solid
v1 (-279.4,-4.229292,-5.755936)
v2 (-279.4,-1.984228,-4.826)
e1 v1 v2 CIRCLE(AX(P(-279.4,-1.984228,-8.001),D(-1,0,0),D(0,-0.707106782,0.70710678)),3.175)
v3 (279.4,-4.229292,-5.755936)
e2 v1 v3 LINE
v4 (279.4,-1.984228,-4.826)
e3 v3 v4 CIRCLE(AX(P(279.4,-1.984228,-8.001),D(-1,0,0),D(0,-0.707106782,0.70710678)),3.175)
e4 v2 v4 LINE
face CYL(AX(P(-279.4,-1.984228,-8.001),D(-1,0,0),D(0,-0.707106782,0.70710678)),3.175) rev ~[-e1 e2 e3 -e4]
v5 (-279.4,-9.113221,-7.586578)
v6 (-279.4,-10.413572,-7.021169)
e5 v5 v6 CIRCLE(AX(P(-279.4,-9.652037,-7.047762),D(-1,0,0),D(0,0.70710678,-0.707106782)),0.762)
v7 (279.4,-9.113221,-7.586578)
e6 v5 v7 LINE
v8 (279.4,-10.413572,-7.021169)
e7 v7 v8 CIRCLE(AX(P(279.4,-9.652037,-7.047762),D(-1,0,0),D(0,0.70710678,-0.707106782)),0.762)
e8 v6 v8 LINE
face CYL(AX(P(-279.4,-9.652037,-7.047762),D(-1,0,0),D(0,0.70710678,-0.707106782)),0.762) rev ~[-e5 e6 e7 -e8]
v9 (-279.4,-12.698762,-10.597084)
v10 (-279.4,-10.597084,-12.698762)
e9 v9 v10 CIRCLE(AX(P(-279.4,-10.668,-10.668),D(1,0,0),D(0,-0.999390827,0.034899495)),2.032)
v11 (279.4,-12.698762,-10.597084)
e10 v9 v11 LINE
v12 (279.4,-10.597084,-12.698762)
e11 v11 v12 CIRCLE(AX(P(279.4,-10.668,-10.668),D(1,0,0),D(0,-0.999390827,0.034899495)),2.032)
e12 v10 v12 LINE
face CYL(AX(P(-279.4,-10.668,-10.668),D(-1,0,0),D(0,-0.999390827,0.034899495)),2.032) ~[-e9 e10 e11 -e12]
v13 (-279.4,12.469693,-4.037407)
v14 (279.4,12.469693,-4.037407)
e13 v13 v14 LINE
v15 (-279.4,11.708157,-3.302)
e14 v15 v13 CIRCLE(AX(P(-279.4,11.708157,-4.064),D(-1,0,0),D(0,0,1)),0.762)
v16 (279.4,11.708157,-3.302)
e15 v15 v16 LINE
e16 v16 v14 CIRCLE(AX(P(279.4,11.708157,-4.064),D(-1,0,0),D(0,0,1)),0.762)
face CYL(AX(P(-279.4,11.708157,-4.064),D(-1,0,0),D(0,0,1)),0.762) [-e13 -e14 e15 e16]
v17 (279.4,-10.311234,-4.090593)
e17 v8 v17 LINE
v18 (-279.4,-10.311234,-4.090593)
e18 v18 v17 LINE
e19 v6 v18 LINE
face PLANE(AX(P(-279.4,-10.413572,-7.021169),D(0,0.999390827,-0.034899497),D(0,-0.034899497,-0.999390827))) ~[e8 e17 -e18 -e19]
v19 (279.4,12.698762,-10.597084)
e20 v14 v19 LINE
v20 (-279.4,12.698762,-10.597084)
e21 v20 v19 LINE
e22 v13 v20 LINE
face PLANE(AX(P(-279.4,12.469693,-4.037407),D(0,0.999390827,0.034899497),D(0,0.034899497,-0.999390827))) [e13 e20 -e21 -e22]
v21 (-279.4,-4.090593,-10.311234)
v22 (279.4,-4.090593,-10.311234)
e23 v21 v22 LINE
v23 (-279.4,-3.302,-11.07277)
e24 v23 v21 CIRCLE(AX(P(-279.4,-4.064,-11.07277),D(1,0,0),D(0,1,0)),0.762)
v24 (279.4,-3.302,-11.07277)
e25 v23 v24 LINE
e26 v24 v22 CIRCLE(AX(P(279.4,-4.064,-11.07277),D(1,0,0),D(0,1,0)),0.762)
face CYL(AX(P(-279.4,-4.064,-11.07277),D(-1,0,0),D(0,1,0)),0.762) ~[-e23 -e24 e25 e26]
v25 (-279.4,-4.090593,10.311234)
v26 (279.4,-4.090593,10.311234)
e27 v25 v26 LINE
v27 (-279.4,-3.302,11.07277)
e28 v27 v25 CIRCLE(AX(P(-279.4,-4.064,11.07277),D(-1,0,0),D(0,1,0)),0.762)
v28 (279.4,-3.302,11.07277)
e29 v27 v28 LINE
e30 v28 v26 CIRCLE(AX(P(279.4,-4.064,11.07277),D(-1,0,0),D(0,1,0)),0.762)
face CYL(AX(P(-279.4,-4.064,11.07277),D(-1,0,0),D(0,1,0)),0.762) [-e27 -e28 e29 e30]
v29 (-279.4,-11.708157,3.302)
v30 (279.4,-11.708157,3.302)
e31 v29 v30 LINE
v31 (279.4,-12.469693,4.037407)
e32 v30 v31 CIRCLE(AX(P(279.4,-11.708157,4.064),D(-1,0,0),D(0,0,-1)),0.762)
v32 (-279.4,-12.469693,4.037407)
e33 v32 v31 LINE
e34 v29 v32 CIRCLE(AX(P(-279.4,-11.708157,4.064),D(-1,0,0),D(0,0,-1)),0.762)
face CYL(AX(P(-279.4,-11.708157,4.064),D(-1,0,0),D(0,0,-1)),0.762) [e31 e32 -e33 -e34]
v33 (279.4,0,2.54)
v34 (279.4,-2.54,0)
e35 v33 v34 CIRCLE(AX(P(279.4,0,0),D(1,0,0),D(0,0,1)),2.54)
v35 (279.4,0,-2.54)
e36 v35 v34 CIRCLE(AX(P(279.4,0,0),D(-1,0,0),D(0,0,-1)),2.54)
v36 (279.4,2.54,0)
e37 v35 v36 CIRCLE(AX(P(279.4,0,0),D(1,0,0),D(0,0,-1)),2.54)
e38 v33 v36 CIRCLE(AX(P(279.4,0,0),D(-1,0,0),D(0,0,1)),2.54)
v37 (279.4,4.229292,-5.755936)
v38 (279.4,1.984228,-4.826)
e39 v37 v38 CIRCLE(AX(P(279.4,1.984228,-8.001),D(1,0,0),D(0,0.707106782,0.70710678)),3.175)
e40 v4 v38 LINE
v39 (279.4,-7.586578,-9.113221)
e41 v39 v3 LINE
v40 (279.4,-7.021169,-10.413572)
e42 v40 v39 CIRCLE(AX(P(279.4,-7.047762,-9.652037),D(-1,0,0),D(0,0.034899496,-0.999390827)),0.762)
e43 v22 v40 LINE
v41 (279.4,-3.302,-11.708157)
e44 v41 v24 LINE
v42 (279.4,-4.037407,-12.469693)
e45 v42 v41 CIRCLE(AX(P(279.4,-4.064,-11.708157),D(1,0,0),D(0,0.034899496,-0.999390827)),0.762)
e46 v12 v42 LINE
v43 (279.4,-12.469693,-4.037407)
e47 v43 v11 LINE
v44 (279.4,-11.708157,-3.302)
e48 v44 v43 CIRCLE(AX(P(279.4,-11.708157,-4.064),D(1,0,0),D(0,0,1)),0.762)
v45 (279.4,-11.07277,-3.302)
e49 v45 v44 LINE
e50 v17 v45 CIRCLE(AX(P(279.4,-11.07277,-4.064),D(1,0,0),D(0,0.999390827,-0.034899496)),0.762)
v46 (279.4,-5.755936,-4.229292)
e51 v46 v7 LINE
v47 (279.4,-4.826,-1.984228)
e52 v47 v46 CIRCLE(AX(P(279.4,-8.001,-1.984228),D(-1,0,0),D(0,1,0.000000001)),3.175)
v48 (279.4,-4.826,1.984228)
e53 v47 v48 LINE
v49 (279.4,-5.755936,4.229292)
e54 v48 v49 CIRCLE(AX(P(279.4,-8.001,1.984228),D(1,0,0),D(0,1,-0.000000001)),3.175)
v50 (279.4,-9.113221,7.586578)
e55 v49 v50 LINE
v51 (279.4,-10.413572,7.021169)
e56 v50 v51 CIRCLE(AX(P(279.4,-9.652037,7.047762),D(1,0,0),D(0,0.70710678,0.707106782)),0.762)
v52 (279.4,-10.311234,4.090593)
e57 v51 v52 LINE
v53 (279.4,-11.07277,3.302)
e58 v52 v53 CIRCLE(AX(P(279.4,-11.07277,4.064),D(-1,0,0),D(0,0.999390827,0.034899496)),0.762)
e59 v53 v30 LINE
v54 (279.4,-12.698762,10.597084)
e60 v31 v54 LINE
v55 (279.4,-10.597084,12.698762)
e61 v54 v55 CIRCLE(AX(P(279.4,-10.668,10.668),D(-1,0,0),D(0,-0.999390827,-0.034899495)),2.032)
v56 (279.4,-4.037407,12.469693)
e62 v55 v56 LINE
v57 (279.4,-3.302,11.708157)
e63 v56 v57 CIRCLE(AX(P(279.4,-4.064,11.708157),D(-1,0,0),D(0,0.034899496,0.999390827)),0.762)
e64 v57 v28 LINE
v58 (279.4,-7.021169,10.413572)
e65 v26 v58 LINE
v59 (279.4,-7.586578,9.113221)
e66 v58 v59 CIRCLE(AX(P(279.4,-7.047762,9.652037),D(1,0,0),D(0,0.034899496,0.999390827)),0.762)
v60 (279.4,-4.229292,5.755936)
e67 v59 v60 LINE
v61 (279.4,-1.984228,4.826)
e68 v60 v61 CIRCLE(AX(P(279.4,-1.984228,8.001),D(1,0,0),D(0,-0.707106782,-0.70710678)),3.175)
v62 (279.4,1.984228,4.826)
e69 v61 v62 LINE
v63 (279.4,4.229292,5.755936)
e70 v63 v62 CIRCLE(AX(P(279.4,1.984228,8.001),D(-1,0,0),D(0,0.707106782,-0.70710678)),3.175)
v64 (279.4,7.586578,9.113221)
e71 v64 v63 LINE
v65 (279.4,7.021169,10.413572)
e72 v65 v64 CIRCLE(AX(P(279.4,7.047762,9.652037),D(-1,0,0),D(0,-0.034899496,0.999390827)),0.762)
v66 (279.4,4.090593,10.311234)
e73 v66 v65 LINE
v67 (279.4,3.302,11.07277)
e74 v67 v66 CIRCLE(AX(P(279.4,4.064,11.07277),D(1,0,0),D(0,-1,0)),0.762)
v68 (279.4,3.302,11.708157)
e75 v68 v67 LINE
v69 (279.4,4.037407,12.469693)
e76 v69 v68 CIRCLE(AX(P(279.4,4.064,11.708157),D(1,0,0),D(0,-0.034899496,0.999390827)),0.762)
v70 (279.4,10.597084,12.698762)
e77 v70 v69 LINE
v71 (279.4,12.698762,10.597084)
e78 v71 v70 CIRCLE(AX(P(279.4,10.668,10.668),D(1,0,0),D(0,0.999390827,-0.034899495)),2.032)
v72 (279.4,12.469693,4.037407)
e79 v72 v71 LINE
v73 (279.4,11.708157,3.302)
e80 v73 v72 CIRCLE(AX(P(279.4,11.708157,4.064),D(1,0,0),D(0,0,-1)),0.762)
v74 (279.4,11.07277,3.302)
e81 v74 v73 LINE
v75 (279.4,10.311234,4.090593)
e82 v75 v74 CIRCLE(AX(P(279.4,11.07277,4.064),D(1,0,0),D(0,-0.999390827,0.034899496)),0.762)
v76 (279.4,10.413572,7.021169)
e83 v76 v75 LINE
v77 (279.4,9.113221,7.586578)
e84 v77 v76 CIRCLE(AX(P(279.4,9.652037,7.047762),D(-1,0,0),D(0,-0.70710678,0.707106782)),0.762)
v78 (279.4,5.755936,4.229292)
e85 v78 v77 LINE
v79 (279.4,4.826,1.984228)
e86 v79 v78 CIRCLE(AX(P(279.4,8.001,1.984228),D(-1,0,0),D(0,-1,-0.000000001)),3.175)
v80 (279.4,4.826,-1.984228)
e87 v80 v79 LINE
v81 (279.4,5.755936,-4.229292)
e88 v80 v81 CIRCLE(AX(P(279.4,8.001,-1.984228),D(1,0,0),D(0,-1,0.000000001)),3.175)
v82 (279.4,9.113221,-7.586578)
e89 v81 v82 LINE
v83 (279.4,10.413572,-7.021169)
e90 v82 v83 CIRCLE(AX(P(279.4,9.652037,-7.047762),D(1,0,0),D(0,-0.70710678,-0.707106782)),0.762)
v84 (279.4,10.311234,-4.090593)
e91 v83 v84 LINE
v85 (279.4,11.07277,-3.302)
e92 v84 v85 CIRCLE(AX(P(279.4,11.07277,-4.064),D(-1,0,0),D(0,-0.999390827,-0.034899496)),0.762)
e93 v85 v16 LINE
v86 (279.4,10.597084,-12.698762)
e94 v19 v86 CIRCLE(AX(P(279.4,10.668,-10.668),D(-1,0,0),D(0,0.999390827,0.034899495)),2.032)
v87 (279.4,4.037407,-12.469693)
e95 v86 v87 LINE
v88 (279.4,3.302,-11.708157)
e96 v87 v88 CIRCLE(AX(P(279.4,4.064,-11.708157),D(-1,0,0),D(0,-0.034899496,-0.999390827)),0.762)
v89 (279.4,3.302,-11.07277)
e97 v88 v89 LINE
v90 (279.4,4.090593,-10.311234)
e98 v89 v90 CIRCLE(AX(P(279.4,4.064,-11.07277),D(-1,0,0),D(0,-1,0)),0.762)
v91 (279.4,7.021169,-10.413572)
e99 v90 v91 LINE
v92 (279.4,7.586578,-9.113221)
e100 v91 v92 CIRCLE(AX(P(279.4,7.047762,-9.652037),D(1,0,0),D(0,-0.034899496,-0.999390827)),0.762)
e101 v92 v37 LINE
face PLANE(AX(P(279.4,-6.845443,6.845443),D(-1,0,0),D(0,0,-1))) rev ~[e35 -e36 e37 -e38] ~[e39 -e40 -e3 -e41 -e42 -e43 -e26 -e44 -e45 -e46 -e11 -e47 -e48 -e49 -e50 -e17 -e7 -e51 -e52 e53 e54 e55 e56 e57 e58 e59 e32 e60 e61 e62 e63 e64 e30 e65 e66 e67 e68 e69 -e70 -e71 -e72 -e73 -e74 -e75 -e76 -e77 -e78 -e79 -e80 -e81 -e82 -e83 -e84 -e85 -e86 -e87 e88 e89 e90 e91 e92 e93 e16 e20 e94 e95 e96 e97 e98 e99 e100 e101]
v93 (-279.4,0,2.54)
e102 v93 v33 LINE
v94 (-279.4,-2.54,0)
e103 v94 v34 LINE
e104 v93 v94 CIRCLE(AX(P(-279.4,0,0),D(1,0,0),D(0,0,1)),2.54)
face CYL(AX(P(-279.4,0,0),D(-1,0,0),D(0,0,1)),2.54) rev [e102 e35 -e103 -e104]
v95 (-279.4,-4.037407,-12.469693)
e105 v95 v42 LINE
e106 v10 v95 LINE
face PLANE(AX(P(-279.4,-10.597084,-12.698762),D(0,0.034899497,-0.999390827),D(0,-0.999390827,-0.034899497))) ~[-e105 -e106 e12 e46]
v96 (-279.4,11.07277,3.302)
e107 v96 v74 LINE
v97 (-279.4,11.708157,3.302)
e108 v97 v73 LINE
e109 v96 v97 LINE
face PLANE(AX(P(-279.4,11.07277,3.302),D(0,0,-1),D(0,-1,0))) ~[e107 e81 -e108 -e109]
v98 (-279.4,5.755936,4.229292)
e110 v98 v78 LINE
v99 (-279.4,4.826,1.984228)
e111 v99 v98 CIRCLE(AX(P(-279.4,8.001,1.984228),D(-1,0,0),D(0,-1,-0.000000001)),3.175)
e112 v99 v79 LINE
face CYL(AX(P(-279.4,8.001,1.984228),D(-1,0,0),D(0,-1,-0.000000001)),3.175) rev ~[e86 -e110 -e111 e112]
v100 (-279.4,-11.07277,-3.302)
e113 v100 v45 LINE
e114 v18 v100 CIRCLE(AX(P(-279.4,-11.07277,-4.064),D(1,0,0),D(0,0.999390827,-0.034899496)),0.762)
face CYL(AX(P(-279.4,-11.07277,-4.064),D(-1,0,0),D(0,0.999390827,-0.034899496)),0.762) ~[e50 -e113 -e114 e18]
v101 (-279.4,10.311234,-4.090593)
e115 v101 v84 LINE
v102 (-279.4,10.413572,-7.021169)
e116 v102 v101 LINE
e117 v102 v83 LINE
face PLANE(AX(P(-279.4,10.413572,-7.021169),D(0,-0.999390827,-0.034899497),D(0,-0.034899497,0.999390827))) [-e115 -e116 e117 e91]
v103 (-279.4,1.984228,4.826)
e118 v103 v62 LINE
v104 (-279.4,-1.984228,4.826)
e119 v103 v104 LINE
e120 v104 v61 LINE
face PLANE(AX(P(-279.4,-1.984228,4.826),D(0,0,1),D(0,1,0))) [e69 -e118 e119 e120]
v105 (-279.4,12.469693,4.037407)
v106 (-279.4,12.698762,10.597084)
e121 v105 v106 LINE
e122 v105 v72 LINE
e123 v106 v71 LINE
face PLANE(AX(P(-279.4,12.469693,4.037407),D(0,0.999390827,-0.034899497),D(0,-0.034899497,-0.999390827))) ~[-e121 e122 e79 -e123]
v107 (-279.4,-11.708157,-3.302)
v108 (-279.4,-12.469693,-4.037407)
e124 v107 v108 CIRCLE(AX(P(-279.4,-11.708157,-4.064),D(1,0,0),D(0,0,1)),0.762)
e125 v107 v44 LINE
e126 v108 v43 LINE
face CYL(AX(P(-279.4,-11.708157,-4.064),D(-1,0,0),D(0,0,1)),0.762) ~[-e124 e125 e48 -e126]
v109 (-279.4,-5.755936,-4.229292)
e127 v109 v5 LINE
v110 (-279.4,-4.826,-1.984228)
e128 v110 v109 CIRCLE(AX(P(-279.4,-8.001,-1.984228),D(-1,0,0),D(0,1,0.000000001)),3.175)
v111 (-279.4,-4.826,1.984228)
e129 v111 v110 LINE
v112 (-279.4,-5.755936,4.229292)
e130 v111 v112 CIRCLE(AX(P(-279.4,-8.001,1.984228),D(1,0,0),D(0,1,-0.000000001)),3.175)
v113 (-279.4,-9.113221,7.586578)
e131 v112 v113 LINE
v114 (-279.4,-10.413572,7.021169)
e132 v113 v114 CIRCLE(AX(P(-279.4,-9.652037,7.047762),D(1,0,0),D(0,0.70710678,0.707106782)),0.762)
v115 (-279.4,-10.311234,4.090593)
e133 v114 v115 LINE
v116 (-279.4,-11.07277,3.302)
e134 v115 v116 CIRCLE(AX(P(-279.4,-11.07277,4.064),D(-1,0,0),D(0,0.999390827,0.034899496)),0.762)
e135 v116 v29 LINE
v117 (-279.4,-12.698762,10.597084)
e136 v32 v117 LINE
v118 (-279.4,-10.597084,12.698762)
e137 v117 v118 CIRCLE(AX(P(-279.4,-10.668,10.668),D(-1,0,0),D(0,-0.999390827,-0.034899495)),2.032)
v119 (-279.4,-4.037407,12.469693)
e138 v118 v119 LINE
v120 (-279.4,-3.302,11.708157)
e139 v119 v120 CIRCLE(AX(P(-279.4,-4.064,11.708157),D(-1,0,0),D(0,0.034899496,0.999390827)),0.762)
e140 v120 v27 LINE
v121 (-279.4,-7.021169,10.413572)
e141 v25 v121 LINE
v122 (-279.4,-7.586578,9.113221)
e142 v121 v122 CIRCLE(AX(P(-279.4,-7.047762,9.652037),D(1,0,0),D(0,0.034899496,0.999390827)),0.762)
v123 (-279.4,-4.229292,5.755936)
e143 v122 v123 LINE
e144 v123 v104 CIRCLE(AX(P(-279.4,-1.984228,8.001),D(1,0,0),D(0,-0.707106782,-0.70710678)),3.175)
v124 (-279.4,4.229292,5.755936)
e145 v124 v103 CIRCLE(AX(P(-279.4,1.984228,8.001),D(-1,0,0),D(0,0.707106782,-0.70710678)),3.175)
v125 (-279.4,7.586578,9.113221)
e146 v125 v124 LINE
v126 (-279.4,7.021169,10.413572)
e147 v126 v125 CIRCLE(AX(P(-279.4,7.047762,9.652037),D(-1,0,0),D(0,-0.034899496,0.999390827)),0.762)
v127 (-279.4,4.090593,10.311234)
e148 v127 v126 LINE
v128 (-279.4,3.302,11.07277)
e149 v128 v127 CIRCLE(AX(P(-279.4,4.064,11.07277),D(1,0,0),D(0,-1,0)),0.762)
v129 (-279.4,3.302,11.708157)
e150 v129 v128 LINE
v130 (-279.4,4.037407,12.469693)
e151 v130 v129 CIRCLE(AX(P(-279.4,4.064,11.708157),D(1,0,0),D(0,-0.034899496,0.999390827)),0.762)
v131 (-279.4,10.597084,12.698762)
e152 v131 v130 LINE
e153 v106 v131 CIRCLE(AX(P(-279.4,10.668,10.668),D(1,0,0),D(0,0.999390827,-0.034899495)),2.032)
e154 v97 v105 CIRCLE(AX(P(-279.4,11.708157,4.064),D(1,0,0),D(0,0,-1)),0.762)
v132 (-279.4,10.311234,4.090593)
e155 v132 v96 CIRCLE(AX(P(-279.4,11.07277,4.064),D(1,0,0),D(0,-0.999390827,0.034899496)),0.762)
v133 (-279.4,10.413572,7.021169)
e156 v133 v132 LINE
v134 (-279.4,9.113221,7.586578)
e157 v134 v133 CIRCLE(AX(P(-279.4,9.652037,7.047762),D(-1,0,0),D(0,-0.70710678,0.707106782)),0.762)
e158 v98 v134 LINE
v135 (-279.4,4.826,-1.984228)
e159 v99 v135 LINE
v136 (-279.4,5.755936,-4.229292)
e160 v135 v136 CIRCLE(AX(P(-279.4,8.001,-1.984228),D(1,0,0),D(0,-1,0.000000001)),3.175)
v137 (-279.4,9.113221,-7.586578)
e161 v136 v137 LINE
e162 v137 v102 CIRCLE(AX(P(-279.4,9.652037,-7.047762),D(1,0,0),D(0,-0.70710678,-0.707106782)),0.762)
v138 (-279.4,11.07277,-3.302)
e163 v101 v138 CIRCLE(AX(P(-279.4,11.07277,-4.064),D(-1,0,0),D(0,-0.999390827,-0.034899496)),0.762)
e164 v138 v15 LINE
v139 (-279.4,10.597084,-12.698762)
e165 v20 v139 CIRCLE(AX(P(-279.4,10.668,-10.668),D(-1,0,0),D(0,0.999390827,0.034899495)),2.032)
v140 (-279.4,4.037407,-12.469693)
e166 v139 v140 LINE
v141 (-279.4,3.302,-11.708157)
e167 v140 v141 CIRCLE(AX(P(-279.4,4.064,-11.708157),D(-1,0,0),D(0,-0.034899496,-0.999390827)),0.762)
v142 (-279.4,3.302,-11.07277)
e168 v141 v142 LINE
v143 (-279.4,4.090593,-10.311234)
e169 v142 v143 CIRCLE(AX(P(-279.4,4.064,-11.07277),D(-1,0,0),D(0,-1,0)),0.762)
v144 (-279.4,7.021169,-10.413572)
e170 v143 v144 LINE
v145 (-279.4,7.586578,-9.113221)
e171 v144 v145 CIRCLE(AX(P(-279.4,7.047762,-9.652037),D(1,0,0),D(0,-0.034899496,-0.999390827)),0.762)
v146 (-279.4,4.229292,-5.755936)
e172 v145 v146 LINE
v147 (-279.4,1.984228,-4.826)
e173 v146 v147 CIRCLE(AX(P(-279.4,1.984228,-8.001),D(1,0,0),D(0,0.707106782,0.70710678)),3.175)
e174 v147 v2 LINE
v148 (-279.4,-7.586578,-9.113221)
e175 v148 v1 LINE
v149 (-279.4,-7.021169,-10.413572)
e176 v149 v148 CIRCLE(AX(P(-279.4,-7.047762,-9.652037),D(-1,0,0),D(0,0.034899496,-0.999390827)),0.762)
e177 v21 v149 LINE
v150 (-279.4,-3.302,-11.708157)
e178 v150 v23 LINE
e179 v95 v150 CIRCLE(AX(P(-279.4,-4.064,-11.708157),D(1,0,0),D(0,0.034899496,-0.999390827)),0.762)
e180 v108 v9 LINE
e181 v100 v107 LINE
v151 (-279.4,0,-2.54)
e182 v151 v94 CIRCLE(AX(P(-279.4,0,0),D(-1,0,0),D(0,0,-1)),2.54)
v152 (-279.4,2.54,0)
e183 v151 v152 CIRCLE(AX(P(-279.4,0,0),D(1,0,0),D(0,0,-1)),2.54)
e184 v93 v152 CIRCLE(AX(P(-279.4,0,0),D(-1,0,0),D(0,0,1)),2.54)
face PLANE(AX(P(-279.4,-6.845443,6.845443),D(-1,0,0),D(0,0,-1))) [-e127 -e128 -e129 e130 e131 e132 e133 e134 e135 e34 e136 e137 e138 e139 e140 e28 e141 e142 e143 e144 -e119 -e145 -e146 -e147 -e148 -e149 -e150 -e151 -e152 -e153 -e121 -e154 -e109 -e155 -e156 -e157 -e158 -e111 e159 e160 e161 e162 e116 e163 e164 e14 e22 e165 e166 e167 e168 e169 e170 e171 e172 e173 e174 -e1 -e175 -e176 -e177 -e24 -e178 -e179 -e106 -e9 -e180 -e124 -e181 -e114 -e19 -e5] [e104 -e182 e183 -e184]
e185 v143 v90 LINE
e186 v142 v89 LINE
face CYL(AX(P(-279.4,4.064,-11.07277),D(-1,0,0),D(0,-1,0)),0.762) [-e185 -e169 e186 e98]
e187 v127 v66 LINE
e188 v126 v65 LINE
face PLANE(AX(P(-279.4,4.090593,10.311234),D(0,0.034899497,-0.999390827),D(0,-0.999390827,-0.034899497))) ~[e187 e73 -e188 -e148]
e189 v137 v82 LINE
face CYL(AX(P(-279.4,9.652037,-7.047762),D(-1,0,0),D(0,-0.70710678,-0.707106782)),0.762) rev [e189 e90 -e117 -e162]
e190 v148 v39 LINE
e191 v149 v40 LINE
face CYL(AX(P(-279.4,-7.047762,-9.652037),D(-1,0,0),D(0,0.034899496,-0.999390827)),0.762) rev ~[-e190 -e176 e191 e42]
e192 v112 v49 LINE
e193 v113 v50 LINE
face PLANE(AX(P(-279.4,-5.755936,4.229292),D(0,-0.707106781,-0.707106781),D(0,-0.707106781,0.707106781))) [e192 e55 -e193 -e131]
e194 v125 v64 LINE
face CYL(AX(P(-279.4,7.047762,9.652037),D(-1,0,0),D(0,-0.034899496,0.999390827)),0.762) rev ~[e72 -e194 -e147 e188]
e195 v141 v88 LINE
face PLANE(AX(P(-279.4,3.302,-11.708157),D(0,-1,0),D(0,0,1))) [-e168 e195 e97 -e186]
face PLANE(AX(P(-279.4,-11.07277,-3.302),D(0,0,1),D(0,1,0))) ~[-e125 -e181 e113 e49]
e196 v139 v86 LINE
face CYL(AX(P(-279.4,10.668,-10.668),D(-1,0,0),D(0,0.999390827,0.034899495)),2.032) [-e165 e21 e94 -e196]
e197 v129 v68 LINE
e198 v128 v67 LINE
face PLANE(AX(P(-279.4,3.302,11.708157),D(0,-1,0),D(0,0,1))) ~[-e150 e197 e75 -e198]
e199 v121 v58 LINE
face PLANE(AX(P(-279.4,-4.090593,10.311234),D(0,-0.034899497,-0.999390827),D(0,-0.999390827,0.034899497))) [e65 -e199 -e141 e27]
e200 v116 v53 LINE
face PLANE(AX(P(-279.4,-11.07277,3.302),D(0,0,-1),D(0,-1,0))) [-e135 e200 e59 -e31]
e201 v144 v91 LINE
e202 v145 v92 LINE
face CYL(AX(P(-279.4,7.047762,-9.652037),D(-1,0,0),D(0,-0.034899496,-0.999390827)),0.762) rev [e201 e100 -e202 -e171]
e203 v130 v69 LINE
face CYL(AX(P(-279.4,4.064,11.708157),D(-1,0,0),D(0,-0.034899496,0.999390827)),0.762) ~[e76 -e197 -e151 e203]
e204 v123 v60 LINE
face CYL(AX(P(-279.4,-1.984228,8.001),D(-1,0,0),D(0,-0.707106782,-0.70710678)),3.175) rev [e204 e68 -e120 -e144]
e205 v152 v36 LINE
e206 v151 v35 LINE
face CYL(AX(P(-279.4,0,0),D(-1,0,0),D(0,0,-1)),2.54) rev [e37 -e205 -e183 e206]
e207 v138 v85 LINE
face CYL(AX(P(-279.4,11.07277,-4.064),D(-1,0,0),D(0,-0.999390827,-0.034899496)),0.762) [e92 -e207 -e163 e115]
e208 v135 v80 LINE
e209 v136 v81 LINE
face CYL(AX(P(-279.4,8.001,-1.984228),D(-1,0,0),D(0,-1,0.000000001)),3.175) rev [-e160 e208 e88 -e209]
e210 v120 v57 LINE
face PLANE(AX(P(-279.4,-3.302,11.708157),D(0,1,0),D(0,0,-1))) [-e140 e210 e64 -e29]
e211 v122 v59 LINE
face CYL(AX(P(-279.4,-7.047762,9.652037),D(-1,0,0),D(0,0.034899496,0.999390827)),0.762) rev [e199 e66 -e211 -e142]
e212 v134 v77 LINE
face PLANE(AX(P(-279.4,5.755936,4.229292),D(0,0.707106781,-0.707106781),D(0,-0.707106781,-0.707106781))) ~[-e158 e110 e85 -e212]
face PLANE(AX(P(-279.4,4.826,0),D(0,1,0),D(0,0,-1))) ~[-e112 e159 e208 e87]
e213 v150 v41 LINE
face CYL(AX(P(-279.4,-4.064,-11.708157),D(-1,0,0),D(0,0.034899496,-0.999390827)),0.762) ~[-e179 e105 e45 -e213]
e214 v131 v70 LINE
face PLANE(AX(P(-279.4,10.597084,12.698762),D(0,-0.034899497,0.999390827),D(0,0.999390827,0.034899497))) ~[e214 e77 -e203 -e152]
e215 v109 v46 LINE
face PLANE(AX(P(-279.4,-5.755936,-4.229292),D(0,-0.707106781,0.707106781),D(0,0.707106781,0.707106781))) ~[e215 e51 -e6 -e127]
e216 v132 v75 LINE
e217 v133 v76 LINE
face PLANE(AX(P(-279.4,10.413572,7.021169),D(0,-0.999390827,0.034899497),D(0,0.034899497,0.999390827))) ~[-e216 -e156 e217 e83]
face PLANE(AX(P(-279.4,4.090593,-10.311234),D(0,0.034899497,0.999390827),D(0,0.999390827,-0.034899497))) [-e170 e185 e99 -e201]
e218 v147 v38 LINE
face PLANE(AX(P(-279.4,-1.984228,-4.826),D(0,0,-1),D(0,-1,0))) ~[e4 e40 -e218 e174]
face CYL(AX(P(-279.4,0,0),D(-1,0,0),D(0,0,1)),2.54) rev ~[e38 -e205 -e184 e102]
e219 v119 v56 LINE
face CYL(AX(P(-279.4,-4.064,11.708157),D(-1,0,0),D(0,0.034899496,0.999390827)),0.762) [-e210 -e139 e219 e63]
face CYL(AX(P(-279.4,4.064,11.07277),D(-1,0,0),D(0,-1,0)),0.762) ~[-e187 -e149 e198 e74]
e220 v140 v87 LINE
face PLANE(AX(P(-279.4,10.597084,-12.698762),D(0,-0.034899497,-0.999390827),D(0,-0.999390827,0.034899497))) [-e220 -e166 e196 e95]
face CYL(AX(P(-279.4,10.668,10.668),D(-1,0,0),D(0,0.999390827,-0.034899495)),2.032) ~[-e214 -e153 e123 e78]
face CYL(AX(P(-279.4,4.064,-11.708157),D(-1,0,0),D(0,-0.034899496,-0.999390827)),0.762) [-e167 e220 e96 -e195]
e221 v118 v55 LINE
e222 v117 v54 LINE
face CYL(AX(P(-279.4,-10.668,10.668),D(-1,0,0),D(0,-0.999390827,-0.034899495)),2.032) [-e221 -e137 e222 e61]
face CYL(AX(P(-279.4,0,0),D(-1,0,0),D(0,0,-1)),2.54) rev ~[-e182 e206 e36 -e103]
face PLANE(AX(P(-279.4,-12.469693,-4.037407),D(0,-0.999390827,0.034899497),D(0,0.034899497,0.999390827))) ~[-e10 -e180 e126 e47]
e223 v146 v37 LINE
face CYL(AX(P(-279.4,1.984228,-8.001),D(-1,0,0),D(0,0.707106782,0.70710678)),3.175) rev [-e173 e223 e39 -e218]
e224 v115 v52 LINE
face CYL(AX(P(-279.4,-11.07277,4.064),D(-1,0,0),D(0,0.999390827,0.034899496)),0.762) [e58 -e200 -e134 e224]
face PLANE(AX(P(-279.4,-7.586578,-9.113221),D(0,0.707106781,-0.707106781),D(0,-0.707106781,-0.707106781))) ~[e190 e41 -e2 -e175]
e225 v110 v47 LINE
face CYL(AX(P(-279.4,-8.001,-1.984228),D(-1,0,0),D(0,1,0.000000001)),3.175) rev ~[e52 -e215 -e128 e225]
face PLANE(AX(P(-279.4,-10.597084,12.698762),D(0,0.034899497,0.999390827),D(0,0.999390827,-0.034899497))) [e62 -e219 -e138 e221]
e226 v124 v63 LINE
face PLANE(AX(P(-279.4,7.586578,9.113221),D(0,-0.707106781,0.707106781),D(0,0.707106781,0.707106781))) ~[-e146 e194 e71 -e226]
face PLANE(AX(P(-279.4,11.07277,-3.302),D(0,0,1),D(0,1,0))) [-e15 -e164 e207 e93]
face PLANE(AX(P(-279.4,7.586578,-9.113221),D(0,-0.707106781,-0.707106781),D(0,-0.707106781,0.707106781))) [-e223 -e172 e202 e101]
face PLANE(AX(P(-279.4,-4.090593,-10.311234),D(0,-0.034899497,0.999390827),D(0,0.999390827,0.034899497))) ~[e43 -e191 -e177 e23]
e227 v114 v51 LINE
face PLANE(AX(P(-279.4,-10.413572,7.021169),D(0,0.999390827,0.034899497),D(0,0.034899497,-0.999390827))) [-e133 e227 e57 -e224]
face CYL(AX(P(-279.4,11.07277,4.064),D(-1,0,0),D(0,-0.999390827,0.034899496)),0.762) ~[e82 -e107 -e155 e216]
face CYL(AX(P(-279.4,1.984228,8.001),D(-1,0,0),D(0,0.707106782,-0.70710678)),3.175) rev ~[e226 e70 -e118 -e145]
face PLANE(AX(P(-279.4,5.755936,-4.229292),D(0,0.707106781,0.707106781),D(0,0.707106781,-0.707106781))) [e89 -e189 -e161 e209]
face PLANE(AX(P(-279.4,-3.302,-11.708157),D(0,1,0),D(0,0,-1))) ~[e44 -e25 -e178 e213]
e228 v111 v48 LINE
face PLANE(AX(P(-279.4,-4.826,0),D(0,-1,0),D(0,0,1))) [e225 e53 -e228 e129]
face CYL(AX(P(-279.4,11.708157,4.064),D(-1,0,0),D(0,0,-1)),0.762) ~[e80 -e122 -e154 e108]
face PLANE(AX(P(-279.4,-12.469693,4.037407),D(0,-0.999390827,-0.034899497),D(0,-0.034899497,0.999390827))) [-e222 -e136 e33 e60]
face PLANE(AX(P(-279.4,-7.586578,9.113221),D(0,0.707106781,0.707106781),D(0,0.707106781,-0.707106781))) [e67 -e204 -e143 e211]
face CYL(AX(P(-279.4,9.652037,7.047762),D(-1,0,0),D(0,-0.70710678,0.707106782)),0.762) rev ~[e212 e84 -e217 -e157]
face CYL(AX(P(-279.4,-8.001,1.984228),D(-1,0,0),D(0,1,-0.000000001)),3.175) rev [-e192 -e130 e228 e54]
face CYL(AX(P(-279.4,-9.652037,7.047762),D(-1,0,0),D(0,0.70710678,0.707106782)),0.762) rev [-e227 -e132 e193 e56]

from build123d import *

# Parameters (mm, degrees)
BOSS_EXTRUDE1_DEPTH      = 279.4
BOSS_EXTRUDE1_DEPTH_BACK = 279.4


with BuildPart() as part:
    # Sketch3 → Boss-Extrude1 (new, two sides: drawn at the far end of the back side and taken through both)
    with BuildSketch(Plane(origin=(0, 0, 0), x_dir=(0, 0, -1), z_dir=(1, 0, 0)).offset(-BOSS_EXTRUDE1_DEPTH_BACK)):
        with BuildLine():
            Line((0, 4.826), (1.984228399, 4.826))
            ThreePointArc((1.984228399, 4.826), (3.199248297, 5.067682484), (4.229292429, 5.75593597))
            Line((4.229292429, 5.75593597), (7.586577723, 9.113221264))
            ThreePointArc((7.586577723, 9.113221264), (7.746562132, 9.955883421), (7.021168939, 10.413572441))
            Line((7.021168939, 10.413572441), (4.090593416, 10.311234489))
            ThreePointArc((4.090593416, 10.311234489), (3.534670322, 10.524633371), (3.302, 11.072770299))
            Line((3.302, 11.072770299), (3.302, 11.70815736))
            ThreePointArc((3.302, 11.70815736), (3.515863072, 12.237487038), (4.037406584, 12.46969317))
            Line((4.037406584, 12.46969317), (10.597084223, 12.698762161))
            ThreePointArc((10.597084223, 12.698762161), (12.104840979, 12.104840979), (12.698762161, 10.597084223))
            Line((12.698762161, 10.597084223), (12.46969317, 4.037406584))
            ThreePointArc((12.46969317, 4.037406584), (12.237487038, 3.515863072), (11.70815736, 3.302))
            Line((11.70815736, 3.302), (11.072770299, 3.302))
            ThreePointArc((11.072770299, 3.302), (10.524633371, 3.534670322), (10.311234489, 4.090593416))
            Line((10.311234489, 4.090593416), (10.413572441, 7.021168939))
            ThreePointArc((10.413572441, 7.021168939), (9.955883421, 7.746562132), (9.113221264, 7.586577723))
            Line((9.113221264, 7.586577723), (5.75593597, 4.229292429))
            ThreePointArc((5.75593597, 4.229292429), (5.067682484, 3.199248297), (4.826, 1.984228399))
            Line((4.826, 1.984228399), (4.826, 0))
            Line((4.826, 0), (2.54, 0))
            ThreePointArc((2.54, 0), (1.796051224, 1.796051224), (0, 2.54))
            Line((0, 2.54), (0, 4.826))
        make_face()
    extrude(amount=BOSS_EXTRUDE1_DEPTH + BOSS_EXTRUDE1_DEPTH_BACK)

    # Mirror1: part across plane


with BuildPart() as part_1:
    add(part.part)
    add(part.part.mirror(Plane.ZX))

    # Mirror2: part across plane


with BuildPart() as part_2:
    add(part_1.part)
    add(part_1.part.mirror(Plane.XY))


solid = part_2.part
